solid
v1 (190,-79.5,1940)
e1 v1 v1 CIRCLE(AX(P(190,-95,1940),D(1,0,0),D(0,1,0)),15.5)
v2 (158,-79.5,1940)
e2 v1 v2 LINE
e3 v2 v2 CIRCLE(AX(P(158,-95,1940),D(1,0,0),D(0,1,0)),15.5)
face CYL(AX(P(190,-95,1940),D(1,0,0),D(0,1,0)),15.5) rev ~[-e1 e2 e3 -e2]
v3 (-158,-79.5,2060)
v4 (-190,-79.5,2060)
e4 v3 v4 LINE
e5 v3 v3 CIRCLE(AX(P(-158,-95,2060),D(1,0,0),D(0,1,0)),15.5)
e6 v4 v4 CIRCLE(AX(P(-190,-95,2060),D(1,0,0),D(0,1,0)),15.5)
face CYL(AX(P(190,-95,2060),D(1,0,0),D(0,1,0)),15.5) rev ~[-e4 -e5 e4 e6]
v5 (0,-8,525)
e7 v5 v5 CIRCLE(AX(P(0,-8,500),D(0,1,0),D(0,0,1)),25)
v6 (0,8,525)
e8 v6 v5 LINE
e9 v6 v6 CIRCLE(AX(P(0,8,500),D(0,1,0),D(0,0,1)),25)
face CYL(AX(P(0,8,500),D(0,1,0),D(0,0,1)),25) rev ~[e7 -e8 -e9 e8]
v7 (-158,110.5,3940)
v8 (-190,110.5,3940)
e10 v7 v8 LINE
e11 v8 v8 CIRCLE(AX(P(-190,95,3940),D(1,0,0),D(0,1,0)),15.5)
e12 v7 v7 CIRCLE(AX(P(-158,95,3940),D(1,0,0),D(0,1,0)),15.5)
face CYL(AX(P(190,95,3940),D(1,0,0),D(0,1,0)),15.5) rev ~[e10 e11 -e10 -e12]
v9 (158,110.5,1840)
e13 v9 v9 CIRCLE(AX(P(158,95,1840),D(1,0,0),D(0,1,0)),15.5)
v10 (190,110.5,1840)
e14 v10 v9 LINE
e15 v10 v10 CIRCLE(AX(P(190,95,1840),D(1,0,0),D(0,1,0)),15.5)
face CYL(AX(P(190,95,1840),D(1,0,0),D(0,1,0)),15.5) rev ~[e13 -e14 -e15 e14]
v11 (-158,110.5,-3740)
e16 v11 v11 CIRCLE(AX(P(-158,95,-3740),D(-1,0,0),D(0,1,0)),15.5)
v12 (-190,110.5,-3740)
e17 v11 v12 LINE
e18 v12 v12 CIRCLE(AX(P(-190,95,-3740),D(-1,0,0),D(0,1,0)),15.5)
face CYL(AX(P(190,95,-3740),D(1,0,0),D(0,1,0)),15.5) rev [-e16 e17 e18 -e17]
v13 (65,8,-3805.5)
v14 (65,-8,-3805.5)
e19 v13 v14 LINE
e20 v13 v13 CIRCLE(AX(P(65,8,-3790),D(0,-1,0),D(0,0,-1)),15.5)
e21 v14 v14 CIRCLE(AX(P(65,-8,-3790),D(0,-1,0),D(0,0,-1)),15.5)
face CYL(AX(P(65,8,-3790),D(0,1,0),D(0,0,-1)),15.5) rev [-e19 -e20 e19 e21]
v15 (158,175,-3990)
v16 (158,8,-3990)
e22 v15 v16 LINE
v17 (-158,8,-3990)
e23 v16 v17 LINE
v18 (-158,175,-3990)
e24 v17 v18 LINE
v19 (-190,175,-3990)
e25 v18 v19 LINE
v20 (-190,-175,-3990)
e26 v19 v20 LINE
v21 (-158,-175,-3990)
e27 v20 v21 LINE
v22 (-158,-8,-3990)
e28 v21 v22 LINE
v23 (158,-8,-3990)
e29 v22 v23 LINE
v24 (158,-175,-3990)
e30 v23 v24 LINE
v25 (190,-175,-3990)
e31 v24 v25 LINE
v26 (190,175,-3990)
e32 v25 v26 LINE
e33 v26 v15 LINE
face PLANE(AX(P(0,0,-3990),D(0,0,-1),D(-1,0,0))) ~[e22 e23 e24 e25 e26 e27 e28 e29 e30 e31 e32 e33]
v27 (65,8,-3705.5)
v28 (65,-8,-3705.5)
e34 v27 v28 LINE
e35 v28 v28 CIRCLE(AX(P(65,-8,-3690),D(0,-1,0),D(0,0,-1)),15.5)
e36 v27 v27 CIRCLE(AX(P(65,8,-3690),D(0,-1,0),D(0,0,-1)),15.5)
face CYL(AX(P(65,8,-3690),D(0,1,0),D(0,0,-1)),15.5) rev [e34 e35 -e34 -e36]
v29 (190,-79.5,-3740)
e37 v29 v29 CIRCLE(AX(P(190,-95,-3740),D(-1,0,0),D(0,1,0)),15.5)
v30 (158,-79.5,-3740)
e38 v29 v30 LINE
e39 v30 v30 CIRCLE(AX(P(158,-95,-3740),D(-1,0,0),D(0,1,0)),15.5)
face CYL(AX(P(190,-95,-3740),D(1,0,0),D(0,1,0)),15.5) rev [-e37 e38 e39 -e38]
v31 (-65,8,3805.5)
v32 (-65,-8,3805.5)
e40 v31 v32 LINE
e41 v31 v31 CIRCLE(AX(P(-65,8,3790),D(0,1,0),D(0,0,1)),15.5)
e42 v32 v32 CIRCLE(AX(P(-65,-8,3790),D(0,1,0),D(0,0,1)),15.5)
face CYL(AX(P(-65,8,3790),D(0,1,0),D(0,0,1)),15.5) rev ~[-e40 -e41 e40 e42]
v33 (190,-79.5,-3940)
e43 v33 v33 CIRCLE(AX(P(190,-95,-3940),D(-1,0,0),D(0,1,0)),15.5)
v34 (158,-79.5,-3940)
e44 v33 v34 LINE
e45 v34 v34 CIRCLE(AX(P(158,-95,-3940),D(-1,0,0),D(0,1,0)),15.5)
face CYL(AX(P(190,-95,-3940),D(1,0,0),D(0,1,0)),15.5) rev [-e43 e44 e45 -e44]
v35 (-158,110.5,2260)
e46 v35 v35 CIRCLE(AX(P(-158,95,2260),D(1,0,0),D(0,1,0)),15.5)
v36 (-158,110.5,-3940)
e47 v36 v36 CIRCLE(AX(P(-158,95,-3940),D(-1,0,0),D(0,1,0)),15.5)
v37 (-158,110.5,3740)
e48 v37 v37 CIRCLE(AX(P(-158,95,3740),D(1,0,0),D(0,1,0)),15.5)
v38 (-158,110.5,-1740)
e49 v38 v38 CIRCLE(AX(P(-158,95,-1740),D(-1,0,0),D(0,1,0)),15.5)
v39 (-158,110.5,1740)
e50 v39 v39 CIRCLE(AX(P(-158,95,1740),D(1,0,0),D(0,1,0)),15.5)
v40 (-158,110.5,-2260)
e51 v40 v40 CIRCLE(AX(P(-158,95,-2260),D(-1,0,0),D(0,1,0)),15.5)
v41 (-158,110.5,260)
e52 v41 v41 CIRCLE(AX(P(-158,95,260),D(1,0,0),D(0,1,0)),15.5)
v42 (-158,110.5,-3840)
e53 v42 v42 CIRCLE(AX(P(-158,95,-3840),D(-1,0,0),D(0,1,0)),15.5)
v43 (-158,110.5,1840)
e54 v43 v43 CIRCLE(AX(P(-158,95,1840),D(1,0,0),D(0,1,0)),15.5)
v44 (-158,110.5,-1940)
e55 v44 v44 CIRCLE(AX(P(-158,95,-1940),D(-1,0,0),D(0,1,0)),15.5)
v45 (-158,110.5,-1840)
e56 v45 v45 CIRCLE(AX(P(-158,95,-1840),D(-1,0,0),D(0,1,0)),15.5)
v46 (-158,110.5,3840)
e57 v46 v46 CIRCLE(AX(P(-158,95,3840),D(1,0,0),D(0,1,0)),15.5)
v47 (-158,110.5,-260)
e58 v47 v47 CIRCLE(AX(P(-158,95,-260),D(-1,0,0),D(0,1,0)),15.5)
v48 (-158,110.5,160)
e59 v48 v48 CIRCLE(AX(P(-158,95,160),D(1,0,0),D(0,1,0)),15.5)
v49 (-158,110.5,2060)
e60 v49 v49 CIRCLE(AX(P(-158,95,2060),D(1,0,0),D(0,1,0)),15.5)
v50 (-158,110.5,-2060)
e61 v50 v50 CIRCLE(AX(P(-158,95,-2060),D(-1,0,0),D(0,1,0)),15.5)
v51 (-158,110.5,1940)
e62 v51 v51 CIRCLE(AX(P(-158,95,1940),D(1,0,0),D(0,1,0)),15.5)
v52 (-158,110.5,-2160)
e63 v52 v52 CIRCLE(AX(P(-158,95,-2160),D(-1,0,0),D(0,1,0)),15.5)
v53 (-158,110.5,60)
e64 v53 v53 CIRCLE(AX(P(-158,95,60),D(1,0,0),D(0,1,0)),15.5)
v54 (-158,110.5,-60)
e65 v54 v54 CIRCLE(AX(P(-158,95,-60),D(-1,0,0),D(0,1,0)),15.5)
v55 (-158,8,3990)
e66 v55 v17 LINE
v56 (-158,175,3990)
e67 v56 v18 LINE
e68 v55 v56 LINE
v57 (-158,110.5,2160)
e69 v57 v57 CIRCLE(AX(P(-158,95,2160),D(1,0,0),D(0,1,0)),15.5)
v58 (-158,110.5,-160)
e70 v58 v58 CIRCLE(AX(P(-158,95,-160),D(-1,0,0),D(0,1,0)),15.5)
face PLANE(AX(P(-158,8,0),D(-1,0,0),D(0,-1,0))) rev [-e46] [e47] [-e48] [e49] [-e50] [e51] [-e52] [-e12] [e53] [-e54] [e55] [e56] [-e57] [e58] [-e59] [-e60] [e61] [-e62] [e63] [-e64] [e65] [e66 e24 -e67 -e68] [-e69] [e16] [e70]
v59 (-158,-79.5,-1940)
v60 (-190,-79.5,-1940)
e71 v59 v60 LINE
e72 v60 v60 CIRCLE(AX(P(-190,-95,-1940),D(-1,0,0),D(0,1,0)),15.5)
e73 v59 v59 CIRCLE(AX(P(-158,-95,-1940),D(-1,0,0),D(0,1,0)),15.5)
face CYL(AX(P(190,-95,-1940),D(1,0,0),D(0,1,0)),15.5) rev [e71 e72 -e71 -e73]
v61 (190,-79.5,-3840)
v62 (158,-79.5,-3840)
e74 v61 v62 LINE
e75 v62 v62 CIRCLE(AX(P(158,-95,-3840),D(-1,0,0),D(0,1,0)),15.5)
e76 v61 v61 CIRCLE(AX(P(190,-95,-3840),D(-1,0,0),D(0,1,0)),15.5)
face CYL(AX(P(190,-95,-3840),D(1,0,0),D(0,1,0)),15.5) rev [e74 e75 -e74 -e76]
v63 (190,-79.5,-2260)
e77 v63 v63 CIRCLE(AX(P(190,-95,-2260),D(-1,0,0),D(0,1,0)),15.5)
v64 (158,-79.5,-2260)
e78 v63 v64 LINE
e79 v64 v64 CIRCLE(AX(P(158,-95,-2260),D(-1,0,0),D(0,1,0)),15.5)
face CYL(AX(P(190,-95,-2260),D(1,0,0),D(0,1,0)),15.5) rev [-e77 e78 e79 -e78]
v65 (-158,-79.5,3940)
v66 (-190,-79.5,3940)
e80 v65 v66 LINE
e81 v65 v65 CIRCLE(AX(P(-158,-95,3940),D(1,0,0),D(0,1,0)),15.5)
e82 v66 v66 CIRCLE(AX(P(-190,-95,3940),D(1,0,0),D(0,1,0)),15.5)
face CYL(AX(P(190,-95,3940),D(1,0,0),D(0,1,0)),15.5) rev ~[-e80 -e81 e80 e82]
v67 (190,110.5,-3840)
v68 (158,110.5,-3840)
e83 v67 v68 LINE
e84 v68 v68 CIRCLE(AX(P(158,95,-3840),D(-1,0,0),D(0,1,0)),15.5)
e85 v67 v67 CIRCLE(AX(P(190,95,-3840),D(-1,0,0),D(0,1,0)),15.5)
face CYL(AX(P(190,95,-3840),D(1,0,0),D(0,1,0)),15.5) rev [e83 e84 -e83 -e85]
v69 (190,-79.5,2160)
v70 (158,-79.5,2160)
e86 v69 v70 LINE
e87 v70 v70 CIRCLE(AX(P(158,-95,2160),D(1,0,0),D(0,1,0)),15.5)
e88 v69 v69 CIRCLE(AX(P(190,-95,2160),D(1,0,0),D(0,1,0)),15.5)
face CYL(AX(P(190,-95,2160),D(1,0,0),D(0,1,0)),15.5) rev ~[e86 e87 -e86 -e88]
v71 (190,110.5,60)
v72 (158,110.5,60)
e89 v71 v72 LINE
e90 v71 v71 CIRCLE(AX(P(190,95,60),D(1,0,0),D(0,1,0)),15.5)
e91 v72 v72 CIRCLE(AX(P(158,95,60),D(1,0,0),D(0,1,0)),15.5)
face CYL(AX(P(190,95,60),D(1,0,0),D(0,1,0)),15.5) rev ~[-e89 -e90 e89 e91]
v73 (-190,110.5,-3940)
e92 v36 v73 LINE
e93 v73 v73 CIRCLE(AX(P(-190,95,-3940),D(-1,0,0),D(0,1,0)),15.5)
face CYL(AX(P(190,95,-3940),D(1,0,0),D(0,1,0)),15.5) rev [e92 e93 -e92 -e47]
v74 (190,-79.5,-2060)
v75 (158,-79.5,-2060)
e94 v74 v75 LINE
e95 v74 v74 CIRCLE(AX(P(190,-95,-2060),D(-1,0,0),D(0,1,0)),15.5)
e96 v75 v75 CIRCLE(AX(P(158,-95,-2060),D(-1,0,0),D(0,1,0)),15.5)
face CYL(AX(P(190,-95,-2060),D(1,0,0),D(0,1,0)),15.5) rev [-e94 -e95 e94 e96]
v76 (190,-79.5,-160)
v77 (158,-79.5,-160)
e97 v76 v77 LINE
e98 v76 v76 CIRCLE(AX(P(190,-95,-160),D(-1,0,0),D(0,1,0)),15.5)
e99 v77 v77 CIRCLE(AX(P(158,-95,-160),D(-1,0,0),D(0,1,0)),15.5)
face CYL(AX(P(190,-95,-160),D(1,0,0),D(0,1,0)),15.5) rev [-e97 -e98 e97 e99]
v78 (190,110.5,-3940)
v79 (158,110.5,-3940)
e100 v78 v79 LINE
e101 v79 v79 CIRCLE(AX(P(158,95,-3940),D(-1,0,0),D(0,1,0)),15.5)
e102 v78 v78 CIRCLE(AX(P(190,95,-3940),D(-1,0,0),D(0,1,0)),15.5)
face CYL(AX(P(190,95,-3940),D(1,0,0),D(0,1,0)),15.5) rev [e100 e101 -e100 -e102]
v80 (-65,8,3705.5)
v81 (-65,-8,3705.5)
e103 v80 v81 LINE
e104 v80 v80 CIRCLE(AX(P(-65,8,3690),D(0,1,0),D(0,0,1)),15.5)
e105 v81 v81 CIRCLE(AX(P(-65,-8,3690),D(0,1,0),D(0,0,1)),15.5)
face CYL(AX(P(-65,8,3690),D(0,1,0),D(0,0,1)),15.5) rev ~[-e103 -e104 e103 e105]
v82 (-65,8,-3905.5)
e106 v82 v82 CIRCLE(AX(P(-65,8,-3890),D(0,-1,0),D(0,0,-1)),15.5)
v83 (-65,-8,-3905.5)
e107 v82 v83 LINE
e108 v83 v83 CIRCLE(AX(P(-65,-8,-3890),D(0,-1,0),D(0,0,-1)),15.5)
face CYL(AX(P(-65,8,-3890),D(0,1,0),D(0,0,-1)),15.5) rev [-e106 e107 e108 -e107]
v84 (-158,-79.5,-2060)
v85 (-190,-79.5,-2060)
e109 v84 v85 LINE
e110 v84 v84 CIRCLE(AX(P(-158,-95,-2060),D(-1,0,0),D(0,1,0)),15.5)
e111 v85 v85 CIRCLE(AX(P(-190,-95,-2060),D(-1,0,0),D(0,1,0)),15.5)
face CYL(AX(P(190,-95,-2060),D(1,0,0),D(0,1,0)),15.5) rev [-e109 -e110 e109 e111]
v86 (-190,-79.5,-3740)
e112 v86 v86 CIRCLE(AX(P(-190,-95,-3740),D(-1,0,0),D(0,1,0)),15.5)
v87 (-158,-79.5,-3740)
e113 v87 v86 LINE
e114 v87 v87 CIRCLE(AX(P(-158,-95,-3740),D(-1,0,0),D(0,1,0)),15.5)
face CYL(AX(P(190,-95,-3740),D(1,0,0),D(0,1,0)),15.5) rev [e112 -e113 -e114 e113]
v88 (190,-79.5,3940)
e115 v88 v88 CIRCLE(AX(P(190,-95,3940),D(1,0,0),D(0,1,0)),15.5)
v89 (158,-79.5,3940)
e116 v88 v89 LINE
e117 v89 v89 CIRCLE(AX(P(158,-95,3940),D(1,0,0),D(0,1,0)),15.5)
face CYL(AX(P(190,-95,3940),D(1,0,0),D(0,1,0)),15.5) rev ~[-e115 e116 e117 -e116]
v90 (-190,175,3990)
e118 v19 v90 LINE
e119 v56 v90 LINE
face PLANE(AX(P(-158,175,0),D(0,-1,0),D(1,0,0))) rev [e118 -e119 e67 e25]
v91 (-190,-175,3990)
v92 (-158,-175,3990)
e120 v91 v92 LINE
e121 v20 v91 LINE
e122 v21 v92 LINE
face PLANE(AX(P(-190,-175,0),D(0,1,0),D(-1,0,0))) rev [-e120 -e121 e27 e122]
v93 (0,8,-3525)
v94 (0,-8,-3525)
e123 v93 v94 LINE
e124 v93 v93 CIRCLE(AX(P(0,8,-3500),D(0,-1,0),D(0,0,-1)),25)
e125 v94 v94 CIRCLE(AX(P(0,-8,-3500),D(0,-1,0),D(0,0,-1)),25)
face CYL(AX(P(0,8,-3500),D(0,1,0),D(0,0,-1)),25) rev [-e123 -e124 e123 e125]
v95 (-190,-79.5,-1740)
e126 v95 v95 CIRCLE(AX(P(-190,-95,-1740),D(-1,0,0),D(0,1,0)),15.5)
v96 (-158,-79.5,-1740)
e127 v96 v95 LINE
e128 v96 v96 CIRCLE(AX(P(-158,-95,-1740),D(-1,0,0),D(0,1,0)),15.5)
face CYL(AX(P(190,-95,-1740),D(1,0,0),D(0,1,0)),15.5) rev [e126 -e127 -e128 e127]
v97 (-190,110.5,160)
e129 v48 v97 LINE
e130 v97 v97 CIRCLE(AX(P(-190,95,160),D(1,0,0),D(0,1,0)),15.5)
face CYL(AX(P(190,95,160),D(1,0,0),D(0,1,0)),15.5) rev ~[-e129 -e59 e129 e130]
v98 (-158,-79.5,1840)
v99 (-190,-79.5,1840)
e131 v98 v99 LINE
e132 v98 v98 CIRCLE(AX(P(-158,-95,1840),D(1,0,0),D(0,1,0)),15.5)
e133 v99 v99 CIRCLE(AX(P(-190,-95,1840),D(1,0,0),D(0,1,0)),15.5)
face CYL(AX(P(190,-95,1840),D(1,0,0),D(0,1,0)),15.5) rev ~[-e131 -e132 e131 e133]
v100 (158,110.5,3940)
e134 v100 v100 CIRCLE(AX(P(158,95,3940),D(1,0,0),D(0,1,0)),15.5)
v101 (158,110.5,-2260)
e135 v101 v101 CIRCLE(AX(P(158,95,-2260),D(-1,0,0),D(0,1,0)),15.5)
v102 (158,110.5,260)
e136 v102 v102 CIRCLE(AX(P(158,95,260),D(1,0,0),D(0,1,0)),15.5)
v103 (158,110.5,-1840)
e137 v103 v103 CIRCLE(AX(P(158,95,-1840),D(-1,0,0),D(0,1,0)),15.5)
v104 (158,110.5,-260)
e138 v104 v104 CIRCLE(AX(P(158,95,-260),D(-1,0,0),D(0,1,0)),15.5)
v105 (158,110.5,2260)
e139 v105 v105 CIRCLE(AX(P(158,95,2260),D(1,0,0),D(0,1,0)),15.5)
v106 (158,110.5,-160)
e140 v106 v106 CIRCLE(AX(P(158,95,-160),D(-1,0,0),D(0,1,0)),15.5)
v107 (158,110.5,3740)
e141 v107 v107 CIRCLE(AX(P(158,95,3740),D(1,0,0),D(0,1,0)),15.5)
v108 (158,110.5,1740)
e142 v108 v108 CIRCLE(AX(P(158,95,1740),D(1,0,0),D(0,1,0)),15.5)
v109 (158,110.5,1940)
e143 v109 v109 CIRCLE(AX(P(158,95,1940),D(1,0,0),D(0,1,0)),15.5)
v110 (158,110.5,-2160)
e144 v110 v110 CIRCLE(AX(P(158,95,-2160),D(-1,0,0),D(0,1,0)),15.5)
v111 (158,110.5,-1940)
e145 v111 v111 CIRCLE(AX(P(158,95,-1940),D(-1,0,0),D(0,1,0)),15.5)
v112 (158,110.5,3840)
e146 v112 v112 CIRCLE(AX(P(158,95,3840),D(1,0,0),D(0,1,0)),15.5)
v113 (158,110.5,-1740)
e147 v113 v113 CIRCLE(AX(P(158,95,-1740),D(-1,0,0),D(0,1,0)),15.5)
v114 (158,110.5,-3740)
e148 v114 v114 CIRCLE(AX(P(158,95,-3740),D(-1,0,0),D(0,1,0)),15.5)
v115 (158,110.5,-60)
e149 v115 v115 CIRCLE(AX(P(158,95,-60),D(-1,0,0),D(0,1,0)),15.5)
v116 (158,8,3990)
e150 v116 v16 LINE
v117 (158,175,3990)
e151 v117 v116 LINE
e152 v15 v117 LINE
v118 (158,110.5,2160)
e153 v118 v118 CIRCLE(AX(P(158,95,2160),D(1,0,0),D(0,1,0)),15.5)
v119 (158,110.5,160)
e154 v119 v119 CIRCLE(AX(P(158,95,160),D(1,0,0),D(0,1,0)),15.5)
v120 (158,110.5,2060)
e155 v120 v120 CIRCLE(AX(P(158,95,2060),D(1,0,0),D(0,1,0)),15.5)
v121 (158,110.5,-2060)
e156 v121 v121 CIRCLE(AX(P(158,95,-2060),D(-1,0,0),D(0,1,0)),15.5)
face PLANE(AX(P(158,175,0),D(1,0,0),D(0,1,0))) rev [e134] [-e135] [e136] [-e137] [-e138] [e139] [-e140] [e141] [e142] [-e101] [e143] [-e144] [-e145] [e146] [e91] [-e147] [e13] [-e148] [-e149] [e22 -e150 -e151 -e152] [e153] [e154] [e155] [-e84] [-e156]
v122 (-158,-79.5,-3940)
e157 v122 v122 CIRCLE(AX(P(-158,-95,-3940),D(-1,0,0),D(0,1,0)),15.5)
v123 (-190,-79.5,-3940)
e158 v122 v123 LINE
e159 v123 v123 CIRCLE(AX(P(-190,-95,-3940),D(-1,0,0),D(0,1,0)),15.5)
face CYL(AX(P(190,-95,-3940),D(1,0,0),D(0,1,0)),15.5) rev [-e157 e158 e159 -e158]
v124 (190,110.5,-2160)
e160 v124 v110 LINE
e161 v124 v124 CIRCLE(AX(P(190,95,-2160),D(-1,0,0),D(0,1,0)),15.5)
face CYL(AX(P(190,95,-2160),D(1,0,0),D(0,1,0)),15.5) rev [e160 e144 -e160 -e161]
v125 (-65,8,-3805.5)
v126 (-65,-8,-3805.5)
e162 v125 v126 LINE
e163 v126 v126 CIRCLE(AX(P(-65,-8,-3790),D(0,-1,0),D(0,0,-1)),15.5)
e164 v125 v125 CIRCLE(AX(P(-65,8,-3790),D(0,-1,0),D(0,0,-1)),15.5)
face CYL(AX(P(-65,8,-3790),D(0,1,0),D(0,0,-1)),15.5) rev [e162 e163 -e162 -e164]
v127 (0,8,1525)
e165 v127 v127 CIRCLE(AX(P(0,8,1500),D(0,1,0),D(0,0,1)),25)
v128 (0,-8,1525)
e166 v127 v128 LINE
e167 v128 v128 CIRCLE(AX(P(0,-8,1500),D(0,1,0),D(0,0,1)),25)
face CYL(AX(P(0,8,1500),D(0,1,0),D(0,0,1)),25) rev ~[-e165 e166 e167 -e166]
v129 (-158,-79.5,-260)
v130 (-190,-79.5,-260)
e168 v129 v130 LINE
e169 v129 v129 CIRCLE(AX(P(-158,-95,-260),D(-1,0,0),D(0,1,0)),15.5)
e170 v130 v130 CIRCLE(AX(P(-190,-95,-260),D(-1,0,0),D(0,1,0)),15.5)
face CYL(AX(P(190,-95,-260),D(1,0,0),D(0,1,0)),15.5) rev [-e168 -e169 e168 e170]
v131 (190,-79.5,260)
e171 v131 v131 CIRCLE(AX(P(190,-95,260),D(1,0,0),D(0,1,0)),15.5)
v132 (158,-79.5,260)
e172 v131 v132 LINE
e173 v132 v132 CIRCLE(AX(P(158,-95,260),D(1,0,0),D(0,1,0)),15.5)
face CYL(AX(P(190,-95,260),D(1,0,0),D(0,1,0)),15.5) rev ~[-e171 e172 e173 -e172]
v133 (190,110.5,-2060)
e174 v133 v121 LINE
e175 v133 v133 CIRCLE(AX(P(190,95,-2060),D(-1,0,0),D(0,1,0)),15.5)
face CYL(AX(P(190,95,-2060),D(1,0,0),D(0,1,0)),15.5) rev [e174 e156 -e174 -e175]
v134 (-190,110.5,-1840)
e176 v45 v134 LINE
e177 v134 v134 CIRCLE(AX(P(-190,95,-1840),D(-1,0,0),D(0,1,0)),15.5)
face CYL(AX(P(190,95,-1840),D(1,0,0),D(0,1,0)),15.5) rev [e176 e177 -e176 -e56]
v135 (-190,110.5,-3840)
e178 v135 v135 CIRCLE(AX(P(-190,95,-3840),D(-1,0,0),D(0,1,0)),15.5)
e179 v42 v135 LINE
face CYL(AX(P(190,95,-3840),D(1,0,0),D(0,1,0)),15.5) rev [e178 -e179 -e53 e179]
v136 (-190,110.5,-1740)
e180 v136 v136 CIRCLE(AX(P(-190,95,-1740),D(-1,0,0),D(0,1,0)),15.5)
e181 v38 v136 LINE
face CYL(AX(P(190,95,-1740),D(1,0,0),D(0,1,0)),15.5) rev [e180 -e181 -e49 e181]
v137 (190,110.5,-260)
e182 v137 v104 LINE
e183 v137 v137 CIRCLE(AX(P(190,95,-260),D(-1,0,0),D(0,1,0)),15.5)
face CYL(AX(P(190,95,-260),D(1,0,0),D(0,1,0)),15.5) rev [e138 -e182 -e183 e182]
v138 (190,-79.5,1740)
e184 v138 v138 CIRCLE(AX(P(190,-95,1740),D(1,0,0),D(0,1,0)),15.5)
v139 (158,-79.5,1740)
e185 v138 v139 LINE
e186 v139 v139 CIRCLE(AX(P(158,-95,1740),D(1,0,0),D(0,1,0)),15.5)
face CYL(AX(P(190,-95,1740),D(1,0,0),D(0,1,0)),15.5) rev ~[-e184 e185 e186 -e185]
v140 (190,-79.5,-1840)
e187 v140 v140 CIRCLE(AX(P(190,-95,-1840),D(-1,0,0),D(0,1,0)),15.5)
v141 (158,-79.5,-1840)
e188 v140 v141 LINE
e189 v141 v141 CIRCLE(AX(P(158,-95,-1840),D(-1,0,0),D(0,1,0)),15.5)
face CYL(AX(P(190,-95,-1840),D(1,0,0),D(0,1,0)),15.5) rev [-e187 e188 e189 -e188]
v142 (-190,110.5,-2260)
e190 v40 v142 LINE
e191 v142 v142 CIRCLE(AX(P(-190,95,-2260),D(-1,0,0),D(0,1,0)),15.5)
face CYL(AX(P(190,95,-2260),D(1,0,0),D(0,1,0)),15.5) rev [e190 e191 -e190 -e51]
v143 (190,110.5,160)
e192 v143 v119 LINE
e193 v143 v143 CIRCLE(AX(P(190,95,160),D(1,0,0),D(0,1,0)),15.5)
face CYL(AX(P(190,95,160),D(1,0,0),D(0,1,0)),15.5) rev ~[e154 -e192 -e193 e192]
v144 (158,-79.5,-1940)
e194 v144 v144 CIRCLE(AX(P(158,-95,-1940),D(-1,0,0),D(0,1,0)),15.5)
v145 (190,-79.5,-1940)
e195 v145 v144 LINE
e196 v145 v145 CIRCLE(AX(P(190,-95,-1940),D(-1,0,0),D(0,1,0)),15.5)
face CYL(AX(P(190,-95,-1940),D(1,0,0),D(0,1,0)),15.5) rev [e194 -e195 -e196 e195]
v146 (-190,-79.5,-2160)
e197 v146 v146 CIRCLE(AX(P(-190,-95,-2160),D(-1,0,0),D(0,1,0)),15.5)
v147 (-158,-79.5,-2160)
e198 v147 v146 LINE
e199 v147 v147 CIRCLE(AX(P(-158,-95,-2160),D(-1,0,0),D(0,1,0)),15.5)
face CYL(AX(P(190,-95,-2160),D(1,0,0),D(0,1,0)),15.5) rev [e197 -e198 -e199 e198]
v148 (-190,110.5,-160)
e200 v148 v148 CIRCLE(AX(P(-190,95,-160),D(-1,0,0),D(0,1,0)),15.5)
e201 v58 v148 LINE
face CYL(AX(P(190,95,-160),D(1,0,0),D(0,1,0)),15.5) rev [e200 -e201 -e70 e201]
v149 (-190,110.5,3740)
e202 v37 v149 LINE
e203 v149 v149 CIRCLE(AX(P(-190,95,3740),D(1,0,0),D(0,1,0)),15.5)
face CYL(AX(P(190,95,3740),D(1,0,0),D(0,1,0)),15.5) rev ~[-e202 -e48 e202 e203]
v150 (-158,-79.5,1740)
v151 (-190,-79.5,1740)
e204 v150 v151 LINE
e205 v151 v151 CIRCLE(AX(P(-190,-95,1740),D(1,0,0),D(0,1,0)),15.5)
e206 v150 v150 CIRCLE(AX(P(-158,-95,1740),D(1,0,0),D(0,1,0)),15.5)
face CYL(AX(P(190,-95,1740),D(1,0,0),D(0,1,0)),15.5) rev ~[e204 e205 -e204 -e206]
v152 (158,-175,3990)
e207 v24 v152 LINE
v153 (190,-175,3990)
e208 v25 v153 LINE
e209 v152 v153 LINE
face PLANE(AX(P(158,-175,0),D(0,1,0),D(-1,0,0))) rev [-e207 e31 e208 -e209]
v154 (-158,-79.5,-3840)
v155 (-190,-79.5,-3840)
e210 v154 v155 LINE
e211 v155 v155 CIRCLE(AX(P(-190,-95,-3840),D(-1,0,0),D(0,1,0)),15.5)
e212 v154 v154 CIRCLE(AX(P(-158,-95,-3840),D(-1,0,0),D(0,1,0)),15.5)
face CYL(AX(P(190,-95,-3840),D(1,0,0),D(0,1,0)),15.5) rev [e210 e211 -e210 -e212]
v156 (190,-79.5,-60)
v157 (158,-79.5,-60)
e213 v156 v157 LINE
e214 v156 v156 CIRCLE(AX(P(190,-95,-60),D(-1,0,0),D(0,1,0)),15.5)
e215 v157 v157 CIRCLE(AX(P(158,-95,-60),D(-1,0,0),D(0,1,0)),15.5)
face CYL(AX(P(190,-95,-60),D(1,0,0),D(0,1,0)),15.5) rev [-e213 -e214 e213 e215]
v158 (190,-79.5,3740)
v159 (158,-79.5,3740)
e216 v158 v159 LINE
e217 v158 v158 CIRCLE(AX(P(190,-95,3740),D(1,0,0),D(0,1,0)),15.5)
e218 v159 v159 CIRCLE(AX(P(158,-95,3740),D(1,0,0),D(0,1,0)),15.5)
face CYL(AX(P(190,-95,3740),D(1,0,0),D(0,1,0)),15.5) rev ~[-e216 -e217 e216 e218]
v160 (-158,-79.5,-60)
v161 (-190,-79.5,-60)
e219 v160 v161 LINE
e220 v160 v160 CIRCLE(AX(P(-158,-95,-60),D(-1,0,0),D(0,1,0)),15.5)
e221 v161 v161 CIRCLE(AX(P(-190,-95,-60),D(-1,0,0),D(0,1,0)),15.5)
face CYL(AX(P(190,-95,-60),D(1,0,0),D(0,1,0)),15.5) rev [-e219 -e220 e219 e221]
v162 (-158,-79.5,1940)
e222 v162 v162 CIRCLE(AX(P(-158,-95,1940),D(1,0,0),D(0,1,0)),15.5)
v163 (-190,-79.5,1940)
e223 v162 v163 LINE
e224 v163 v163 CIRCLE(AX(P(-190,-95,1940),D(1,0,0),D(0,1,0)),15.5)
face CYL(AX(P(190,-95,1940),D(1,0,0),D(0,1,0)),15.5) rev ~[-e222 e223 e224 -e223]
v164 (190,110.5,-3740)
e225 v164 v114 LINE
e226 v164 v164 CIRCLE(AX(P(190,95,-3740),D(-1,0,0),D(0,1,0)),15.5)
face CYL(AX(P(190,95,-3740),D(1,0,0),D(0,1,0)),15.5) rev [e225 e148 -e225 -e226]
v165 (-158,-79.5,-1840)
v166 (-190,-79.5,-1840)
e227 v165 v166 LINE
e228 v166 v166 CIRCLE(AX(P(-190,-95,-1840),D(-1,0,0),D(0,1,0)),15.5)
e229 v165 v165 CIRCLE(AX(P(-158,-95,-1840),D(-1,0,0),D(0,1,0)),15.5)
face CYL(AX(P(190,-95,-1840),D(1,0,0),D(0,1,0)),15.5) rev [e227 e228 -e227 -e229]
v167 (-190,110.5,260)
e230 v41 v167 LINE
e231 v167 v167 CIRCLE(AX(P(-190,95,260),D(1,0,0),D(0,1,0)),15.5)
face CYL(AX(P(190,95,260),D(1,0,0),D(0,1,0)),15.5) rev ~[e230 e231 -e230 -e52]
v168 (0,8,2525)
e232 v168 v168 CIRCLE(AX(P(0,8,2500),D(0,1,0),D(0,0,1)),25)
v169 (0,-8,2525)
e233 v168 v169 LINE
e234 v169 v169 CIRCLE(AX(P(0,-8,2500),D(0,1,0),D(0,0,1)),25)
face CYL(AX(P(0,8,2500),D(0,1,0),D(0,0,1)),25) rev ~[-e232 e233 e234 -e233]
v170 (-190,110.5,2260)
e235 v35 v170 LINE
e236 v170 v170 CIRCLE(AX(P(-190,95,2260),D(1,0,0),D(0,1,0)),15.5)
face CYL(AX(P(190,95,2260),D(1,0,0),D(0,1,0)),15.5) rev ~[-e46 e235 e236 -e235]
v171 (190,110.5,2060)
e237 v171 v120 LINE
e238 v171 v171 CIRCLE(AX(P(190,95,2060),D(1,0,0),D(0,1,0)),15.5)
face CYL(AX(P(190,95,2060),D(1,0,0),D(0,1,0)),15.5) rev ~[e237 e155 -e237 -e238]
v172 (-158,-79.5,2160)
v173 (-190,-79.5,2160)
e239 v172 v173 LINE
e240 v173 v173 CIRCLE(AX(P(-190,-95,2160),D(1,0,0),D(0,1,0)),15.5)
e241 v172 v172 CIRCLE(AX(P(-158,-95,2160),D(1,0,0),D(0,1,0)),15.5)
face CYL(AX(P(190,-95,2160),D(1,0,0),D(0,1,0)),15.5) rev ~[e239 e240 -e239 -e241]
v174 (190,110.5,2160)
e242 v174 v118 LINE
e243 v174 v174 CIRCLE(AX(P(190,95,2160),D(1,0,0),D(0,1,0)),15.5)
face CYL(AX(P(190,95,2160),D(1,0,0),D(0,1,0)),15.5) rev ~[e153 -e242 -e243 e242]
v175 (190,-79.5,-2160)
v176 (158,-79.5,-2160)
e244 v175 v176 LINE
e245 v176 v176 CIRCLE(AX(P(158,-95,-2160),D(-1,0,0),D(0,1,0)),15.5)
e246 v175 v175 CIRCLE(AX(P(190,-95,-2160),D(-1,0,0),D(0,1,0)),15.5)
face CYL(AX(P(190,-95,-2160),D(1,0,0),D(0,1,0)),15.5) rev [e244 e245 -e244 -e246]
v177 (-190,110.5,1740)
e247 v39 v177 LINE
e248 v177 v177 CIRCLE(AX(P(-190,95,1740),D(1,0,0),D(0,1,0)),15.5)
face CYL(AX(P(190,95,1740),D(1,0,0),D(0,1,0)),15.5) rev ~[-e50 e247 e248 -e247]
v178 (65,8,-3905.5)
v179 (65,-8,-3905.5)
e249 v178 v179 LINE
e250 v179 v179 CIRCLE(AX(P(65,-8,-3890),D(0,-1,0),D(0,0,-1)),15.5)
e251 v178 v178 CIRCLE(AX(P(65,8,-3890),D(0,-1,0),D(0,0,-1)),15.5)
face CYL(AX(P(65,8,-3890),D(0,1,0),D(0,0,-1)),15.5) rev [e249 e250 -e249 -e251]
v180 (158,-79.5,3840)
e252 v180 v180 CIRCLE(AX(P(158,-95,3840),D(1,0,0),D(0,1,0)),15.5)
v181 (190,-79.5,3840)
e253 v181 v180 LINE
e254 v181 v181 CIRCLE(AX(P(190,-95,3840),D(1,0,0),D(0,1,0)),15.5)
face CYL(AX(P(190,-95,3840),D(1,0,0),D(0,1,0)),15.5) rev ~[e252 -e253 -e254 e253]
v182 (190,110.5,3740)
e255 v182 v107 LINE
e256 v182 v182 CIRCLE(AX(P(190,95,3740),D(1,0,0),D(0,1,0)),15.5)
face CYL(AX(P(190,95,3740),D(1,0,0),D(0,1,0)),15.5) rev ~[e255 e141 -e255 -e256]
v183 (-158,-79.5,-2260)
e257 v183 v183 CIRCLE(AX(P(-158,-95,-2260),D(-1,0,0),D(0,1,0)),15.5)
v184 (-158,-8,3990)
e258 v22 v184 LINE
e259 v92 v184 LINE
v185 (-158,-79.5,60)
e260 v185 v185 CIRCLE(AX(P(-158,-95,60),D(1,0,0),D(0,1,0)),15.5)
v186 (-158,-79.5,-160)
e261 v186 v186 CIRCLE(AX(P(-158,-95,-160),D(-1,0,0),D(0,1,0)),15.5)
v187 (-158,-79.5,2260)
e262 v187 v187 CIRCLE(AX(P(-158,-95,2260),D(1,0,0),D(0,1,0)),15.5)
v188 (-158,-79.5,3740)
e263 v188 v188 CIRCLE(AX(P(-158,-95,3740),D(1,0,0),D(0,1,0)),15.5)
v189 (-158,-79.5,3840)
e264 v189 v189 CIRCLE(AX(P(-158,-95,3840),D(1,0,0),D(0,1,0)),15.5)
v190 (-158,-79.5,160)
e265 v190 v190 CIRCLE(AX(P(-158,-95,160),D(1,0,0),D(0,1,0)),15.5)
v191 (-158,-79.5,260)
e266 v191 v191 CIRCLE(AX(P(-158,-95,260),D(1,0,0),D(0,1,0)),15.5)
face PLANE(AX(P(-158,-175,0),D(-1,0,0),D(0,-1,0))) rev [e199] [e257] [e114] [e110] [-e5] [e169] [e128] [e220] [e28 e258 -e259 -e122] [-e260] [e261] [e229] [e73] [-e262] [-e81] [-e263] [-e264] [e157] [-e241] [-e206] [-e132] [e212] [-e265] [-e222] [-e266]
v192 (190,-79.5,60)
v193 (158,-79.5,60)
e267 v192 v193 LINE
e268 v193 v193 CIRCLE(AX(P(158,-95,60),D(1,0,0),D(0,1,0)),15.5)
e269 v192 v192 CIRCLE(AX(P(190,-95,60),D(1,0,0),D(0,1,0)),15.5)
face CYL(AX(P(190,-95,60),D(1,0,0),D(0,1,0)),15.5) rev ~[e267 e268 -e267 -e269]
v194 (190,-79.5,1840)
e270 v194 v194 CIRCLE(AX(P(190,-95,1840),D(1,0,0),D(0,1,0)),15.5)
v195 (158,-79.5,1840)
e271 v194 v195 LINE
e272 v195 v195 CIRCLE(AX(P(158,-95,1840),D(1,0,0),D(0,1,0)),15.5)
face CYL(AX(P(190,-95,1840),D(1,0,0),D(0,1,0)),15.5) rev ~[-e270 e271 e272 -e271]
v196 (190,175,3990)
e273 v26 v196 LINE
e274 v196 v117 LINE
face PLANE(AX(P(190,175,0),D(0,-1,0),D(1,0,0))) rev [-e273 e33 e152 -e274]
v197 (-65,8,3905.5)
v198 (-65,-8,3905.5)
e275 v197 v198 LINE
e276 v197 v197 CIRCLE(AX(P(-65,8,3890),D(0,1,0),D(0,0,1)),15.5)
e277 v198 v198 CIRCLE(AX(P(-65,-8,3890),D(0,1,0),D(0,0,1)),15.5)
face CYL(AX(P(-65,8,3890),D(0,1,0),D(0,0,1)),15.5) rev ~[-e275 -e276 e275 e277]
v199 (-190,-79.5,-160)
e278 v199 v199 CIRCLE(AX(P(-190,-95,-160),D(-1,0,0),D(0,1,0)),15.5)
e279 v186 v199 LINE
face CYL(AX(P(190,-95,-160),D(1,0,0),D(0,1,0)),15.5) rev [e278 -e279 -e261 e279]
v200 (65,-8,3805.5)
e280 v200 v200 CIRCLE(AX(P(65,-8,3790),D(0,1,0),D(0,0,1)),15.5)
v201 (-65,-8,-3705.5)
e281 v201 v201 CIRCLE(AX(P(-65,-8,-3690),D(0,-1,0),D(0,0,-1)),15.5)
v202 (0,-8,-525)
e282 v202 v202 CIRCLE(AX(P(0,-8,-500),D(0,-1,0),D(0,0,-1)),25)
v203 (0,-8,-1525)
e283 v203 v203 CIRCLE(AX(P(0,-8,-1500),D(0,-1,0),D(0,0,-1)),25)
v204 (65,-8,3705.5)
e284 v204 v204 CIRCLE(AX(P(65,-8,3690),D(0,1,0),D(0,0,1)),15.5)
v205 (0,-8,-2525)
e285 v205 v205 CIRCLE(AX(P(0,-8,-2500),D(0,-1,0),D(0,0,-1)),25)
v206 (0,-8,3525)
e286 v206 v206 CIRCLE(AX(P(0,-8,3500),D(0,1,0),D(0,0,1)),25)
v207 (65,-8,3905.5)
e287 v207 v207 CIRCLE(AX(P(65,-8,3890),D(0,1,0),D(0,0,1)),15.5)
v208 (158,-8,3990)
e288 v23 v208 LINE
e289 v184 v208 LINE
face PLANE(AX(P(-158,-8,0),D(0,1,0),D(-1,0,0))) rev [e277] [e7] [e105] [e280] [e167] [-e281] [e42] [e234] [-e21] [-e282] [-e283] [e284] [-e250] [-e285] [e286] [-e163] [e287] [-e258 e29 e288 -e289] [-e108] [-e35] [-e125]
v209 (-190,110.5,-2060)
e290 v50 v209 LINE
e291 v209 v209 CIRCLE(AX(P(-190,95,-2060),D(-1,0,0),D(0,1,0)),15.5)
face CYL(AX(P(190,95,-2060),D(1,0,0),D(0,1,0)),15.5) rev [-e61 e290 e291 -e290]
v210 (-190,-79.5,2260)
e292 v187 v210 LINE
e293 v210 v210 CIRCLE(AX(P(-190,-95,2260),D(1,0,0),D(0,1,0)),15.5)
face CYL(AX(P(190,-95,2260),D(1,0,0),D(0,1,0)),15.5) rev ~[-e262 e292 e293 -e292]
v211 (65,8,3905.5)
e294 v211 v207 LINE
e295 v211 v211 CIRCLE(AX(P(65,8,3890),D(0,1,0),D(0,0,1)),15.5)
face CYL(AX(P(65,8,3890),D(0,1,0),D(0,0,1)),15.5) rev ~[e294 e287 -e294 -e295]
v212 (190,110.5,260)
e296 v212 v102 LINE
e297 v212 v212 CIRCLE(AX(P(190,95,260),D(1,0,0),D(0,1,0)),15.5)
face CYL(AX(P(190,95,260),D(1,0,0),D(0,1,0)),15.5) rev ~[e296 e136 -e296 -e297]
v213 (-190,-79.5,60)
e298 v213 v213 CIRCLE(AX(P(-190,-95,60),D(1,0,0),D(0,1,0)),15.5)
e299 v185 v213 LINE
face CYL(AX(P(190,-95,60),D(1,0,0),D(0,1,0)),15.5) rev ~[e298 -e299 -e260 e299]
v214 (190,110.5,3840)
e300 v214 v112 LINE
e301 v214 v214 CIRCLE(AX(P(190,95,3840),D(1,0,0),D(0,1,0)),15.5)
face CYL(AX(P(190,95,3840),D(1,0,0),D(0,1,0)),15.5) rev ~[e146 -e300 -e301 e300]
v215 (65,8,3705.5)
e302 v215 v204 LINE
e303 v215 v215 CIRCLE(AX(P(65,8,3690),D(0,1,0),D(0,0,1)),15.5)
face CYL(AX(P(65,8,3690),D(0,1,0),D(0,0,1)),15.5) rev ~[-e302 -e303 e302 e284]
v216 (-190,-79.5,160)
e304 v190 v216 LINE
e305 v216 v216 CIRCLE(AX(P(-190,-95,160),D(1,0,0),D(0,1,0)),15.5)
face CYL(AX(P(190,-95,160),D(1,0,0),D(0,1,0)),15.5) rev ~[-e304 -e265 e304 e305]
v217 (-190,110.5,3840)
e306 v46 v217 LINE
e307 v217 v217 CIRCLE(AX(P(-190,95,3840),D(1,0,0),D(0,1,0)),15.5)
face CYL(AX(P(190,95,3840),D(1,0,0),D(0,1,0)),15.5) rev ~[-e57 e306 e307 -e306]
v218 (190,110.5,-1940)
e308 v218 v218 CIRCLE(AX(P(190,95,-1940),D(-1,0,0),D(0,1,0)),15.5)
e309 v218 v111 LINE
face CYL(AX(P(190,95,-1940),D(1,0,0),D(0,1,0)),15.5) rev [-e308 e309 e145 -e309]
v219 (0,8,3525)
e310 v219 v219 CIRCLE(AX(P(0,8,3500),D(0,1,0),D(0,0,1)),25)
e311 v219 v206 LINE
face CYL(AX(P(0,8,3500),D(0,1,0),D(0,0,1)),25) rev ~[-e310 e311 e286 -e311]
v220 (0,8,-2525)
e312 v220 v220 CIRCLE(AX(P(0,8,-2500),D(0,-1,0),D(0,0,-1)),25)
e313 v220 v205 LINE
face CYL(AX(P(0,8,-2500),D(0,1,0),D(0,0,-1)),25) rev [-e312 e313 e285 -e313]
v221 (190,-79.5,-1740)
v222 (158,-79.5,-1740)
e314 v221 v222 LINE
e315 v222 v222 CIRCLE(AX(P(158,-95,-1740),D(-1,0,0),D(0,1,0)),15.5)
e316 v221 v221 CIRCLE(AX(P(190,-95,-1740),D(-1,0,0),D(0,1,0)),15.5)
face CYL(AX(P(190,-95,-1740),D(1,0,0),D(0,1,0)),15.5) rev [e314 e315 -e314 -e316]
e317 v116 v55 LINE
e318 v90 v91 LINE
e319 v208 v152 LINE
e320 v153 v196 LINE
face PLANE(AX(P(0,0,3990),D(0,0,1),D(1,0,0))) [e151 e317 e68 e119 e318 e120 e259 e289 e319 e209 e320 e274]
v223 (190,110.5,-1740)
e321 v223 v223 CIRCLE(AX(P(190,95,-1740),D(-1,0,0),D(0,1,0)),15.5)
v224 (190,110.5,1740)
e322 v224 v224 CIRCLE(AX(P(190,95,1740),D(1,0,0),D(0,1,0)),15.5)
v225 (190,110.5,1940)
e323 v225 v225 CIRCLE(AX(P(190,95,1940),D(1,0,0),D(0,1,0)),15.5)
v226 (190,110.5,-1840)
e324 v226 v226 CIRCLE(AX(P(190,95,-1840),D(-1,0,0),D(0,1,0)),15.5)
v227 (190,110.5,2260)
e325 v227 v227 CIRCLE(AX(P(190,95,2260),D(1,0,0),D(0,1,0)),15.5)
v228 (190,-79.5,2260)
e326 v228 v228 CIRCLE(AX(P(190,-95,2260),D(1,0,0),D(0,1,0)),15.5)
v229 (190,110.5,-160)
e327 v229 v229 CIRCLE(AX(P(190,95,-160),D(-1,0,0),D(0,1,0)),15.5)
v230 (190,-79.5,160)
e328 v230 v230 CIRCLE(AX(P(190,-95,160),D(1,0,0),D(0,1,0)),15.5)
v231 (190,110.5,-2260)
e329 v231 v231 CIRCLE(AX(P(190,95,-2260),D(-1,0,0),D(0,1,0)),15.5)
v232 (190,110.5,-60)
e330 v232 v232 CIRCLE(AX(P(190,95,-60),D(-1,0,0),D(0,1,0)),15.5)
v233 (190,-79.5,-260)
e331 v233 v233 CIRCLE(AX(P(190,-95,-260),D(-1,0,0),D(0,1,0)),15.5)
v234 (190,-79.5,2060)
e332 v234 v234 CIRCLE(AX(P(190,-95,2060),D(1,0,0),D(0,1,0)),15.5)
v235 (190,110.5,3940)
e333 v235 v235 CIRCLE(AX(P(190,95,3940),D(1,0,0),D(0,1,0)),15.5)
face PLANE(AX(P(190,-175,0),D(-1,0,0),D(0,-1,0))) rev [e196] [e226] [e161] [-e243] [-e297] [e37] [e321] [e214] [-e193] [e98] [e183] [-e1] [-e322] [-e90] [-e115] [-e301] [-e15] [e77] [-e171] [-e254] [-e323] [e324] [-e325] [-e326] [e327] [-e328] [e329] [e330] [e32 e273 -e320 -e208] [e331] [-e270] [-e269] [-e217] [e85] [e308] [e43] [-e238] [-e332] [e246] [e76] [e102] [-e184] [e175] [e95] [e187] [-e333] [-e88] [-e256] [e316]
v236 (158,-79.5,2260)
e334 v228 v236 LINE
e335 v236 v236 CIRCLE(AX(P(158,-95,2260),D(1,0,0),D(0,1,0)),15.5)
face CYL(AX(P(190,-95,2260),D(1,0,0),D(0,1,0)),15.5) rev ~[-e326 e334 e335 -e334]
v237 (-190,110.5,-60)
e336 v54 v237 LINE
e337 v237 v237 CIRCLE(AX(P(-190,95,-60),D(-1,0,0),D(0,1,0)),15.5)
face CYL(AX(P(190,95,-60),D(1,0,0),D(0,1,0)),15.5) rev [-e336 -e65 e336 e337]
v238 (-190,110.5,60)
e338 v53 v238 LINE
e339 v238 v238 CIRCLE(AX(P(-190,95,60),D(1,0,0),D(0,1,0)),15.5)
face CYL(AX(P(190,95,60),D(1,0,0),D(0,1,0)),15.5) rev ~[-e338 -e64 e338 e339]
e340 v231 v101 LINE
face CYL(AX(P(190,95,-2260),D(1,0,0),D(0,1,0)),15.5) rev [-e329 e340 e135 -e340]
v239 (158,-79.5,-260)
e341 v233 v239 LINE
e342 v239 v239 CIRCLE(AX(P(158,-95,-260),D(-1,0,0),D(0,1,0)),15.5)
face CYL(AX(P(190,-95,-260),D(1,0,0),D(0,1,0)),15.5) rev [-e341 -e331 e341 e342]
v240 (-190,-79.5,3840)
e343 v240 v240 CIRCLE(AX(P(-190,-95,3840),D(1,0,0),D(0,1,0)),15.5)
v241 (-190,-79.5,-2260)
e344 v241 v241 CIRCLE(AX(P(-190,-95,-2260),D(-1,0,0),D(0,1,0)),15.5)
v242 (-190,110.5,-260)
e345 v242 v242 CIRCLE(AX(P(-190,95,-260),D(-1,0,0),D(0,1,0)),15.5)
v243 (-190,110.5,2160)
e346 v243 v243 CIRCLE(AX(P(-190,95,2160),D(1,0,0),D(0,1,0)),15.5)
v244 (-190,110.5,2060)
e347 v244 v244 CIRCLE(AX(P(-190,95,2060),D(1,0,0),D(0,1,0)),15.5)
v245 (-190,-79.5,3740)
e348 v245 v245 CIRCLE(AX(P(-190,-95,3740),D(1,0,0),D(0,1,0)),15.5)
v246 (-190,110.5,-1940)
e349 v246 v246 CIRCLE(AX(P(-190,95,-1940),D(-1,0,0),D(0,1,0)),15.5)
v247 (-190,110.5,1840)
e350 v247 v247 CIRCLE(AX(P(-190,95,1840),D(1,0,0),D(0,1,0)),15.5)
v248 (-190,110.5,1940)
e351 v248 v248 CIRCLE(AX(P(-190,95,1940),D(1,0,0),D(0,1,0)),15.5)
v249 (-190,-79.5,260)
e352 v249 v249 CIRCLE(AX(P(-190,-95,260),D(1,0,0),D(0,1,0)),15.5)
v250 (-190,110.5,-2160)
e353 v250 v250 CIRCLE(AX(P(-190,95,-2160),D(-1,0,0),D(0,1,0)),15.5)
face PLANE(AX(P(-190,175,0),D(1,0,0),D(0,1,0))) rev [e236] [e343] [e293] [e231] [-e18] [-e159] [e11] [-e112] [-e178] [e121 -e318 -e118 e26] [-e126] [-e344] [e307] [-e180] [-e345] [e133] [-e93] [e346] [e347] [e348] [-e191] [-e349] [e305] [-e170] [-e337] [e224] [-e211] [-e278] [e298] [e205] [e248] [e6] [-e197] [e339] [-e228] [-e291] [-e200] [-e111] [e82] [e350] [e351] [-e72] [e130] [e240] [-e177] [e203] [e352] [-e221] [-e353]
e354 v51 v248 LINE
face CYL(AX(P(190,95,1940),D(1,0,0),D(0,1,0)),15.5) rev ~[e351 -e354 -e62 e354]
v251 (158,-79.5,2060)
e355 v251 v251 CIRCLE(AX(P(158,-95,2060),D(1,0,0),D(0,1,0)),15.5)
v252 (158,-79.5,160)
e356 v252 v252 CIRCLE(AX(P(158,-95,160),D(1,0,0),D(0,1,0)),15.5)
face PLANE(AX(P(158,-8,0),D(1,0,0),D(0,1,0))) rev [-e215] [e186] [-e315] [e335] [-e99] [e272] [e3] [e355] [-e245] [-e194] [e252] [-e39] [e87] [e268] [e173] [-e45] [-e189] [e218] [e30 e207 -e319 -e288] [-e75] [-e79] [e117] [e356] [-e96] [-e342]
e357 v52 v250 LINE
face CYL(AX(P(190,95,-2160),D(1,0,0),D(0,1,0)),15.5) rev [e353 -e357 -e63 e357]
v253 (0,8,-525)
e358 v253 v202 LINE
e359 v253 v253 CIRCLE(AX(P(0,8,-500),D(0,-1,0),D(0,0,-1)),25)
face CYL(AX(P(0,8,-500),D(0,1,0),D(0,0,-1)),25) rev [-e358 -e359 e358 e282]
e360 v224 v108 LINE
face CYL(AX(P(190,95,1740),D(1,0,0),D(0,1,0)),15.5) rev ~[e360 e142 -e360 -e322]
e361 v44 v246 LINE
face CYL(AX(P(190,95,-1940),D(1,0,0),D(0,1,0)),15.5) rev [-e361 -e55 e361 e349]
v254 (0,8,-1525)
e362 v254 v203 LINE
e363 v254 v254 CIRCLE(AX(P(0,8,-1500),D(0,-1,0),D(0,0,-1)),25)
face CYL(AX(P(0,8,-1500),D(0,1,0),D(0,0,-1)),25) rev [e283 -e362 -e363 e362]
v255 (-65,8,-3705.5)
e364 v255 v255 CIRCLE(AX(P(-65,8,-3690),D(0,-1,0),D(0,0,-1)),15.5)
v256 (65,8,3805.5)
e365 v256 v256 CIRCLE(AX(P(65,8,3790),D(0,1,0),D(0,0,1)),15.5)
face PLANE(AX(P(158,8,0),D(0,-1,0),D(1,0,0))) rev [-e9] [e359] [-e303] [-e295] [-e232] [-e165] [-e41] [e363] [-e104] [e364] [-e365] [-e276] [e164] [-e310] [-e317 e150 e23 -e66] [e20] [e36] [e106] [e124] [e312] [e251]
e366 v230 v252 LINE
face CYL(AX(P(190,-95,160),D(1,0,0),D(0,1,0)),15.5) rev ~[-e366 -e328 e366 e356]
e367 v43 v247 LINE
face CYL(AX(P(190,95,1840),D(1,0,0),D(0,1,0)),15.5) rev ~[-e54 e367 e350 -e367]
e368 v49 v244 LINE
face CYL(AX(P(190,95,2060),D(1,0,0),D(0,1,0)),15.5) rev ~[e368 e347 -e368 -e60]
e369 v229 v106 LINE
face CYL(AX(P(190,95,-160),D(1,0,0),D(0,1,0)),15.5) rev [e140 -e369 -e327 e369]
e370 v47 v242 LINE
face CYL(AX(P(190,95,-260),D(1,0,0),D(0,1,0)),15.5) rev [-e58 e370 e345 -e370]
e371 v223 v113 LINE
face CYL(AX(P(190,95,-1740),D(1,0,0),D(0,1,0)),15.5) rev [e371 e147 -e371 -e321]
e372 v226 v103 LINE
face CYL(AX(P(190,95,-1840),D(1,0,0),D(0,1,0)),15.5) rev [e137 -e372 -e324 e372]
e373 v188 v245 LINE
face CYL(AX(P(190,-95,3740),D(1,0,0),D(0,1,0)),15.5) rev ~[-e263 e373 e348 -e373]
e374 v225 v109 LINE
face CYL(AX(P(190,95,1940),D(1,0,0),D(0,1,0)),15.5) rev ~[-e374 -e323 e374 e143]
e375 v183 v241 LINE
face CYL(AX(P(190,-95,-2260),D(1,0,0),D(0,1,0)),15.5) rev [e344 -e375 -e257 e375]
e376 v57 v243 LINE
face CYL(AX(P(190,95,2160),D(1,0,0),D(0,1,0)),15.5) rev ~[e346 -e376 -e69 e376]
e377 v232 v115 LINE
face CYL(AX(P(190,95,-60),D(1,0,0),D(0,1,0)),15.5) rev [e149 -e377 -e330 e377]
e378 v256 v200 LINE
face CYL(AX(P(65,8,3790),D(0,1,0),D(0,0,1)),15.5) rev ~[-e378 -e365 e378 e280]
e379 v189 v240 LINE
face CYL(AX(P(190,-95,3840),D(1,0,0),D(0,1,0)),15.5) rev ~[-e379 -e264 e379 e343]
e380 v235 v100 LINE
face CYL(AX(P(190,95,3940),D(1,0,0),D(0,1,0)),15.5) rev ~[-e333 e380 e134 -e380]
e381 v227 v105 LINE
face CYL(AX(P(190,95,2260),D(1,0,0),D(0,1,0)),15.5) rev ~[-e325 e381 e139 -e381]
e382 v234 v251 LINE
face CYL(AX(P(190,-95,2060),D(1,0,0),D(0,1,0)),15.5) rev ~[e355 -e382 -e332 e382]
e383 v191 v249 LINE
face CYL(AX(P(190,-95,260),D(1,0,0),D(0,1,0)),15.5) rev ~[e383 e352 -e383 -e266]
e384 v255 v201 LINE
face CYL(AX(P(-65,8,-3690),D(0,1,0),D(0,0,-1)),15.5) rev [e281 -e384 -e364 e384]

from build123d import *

# Parameters (mm, degrees)
EXTRUDE_1_DEPTH     = 3990
SKETCH_2_R          = 15.5
CUT_EXTRUDE_2_DEPTH = 4012.873003972
SKETCH_3_R          = 15.5
SKETCH_3_R_2        = 25
CUT_EXTRUDE_3_DEPTH = 3999.710917283


with BuildPart() as part:
    # 草图1 → 拉伸1 (new body)
    with BuildSketch(Plane.XY):
        Polygon((-158, 175), (-190, 175), (-190, -175), (-158, -175), (-158, -8), (158, -8), (158, -175), (190, -175), (190, 175), (158, 175), (158, 8), (-158, 8), align=None)
    extrude(amount=EXTRUDE_1_DEPTH)

    # 草图2 → 拉伸2 (cut, through all)
    with BuildSketch(Plane(origin=(190, 0, 0), x_dir=(0, 0, -1), z_dir=(1, 0, 0))):
        with Locations(Location((-3940, 95, 0), (0, 0, 90))):
            Circle(SKETCH_2_R)
        with Locations(Location((-3840, 95, 0), (0, 0, 90))):
            Circle(SKETCH_2_R)
        with Locations(Location((-3740, 95, 0), (0, 0, 90))):
            Circle(SKETCH_2_R)
        with Locations(Location((-3940, -95, 0), (0, 0, 90))):
            Circle(SKETCH_2_R)
        with Locations(Location((-3840, -95, 0), (0, 0, 90))):
            Circle(SKETCH_2_R)
        with Locations(Location((-3740, -95, 0), (0, 0, 90))):
            Circle(SKETCH_2_R)
        with Locations(Location((-2260, 95, 0), (0, 0, 90))):
            Circle(SKETCH_2_R)
        with Locations(Location((-2160, 95, 0), (0, 0, 90))):
            Circle(SKETCH_2_R)
        with Locations(Location((-2060, 95, 0), (0, 0, 90))):
            Circle(SKETCH_2_R)
        with Locations(Location((-2260, -95, 0), (0, 0, 90))):
            Circle(SKETCH_2_R)
        with Locations(Location((-2160, -95, 0), (0, 0, 90))):
            Circle(SKETCH_2_R)
        with Locations(Location((-2060, -95, 0), (0, 0, 90))):
            Circle(SKETCH_2_R)
        with Locations(Location((-1740, 95, 0), (0, 0, 90))):
            Circle(SKETCH_2_R)
        with Locations(Location((-1940, 95, 0), (0, 0, 90))):
            Circle(SKETCH_2_R)
        with Locations(Location((-1840, 95, 0), (0, 0, 90))):
            Circle(SKETCH_2_R)
        with Locations(Location((-1940, -95, 0), (0, 0, 90))):
            Circle(SKETCH_2_R)
        with Locations(Location((-1840, -95, 0), (0, 0, 90))):
            Circle(SKETCH_2_R)
        with Locations(Location((-1740, -95, 0), (0, 0, 90))):
            Circle(SKETCH_2_R)
        with Locations(Location((-260, 95, 0), (0, 0, 90))):
            Circle(SKETCH_2_R)
        with Locations(Location((-60, 95, 0), (0, 0, 90))):
            Circle(SKETCH_2_R)
        with Locations(Location((-60, -95, 0), (0, 0, 90))):
            Circle(SKETCH_2_R)
        with Locations(Location((-160, 95, 0), (0, 0, 90))):
            Circle(SKETCH_2_R)
        with Locations(Location((-160, -95, 0), (0, 0, 90))):
            Circle(SKETCH_2_R)
        with Locations(Location((-260, -95, 0), (0, 0, 90))):
            Circle(SKETCH_2_R)
    extrude(amount=-CUT_EXTRUDE_2_DEPTH, mode=Mode.SUBTRACT)

    # 草图3 → 拉伸3 (cut, through all)
    with BuildSketch(Plane(origin=(0, 8, 0), x_dir=(1, 0, 0), z_dir=(0, 1, 0))):
        with Locations(Location((-65, -3890, 0), (0, 0, 270))):
            Circle(SKETCH_3_R)
        with Locations(Location((65, -3890, 0), (0, 0, 270))):
            Circle(SKETCH_3_R)
        with Locations(Location((-65, -3790, 0), (0, 0, 270))):
            Circle(SKETCH_3_R)
        with Locations(Location((65, -3790, 0), (0, 0, 270))):
            Circle(SKETCH_3_R)
        with Locations(Location((-65, -3690, 0), (0, 0, 270))):
            Circle(SKETCH_3_R)
        with Locations(Location((65, -3690, 0), (0, 0, 270))):
            Circle(SKETCH_3_R)
        with Locations(Location((0, -500, 0), (0, 0, 270))):
            Circle(SKETCH_3_R_2)
        with Locations(Location((0, -1500, 0), (0, 0, 270))):
            Circle(SKETCH_3_R_2)
        with Locations(Location((0, -2500, 0), (0, 0, 270))):
            Circle(SKETCH_3_R_2)
        with Locations(Location((0, -3500, 0), (0, 0, 270))):
            Circle(SKETCH_3_R_2)
    extrude(amount=-CUT_EXTRUDE_3_DEPTH, mode=Mode.SUBTRACT)

    # 镜向1: part across plane


with BuildPart() as part_1:
    add(part.part)
    add(part.part.mirror(Plane.XY))


solid = part_1.part
